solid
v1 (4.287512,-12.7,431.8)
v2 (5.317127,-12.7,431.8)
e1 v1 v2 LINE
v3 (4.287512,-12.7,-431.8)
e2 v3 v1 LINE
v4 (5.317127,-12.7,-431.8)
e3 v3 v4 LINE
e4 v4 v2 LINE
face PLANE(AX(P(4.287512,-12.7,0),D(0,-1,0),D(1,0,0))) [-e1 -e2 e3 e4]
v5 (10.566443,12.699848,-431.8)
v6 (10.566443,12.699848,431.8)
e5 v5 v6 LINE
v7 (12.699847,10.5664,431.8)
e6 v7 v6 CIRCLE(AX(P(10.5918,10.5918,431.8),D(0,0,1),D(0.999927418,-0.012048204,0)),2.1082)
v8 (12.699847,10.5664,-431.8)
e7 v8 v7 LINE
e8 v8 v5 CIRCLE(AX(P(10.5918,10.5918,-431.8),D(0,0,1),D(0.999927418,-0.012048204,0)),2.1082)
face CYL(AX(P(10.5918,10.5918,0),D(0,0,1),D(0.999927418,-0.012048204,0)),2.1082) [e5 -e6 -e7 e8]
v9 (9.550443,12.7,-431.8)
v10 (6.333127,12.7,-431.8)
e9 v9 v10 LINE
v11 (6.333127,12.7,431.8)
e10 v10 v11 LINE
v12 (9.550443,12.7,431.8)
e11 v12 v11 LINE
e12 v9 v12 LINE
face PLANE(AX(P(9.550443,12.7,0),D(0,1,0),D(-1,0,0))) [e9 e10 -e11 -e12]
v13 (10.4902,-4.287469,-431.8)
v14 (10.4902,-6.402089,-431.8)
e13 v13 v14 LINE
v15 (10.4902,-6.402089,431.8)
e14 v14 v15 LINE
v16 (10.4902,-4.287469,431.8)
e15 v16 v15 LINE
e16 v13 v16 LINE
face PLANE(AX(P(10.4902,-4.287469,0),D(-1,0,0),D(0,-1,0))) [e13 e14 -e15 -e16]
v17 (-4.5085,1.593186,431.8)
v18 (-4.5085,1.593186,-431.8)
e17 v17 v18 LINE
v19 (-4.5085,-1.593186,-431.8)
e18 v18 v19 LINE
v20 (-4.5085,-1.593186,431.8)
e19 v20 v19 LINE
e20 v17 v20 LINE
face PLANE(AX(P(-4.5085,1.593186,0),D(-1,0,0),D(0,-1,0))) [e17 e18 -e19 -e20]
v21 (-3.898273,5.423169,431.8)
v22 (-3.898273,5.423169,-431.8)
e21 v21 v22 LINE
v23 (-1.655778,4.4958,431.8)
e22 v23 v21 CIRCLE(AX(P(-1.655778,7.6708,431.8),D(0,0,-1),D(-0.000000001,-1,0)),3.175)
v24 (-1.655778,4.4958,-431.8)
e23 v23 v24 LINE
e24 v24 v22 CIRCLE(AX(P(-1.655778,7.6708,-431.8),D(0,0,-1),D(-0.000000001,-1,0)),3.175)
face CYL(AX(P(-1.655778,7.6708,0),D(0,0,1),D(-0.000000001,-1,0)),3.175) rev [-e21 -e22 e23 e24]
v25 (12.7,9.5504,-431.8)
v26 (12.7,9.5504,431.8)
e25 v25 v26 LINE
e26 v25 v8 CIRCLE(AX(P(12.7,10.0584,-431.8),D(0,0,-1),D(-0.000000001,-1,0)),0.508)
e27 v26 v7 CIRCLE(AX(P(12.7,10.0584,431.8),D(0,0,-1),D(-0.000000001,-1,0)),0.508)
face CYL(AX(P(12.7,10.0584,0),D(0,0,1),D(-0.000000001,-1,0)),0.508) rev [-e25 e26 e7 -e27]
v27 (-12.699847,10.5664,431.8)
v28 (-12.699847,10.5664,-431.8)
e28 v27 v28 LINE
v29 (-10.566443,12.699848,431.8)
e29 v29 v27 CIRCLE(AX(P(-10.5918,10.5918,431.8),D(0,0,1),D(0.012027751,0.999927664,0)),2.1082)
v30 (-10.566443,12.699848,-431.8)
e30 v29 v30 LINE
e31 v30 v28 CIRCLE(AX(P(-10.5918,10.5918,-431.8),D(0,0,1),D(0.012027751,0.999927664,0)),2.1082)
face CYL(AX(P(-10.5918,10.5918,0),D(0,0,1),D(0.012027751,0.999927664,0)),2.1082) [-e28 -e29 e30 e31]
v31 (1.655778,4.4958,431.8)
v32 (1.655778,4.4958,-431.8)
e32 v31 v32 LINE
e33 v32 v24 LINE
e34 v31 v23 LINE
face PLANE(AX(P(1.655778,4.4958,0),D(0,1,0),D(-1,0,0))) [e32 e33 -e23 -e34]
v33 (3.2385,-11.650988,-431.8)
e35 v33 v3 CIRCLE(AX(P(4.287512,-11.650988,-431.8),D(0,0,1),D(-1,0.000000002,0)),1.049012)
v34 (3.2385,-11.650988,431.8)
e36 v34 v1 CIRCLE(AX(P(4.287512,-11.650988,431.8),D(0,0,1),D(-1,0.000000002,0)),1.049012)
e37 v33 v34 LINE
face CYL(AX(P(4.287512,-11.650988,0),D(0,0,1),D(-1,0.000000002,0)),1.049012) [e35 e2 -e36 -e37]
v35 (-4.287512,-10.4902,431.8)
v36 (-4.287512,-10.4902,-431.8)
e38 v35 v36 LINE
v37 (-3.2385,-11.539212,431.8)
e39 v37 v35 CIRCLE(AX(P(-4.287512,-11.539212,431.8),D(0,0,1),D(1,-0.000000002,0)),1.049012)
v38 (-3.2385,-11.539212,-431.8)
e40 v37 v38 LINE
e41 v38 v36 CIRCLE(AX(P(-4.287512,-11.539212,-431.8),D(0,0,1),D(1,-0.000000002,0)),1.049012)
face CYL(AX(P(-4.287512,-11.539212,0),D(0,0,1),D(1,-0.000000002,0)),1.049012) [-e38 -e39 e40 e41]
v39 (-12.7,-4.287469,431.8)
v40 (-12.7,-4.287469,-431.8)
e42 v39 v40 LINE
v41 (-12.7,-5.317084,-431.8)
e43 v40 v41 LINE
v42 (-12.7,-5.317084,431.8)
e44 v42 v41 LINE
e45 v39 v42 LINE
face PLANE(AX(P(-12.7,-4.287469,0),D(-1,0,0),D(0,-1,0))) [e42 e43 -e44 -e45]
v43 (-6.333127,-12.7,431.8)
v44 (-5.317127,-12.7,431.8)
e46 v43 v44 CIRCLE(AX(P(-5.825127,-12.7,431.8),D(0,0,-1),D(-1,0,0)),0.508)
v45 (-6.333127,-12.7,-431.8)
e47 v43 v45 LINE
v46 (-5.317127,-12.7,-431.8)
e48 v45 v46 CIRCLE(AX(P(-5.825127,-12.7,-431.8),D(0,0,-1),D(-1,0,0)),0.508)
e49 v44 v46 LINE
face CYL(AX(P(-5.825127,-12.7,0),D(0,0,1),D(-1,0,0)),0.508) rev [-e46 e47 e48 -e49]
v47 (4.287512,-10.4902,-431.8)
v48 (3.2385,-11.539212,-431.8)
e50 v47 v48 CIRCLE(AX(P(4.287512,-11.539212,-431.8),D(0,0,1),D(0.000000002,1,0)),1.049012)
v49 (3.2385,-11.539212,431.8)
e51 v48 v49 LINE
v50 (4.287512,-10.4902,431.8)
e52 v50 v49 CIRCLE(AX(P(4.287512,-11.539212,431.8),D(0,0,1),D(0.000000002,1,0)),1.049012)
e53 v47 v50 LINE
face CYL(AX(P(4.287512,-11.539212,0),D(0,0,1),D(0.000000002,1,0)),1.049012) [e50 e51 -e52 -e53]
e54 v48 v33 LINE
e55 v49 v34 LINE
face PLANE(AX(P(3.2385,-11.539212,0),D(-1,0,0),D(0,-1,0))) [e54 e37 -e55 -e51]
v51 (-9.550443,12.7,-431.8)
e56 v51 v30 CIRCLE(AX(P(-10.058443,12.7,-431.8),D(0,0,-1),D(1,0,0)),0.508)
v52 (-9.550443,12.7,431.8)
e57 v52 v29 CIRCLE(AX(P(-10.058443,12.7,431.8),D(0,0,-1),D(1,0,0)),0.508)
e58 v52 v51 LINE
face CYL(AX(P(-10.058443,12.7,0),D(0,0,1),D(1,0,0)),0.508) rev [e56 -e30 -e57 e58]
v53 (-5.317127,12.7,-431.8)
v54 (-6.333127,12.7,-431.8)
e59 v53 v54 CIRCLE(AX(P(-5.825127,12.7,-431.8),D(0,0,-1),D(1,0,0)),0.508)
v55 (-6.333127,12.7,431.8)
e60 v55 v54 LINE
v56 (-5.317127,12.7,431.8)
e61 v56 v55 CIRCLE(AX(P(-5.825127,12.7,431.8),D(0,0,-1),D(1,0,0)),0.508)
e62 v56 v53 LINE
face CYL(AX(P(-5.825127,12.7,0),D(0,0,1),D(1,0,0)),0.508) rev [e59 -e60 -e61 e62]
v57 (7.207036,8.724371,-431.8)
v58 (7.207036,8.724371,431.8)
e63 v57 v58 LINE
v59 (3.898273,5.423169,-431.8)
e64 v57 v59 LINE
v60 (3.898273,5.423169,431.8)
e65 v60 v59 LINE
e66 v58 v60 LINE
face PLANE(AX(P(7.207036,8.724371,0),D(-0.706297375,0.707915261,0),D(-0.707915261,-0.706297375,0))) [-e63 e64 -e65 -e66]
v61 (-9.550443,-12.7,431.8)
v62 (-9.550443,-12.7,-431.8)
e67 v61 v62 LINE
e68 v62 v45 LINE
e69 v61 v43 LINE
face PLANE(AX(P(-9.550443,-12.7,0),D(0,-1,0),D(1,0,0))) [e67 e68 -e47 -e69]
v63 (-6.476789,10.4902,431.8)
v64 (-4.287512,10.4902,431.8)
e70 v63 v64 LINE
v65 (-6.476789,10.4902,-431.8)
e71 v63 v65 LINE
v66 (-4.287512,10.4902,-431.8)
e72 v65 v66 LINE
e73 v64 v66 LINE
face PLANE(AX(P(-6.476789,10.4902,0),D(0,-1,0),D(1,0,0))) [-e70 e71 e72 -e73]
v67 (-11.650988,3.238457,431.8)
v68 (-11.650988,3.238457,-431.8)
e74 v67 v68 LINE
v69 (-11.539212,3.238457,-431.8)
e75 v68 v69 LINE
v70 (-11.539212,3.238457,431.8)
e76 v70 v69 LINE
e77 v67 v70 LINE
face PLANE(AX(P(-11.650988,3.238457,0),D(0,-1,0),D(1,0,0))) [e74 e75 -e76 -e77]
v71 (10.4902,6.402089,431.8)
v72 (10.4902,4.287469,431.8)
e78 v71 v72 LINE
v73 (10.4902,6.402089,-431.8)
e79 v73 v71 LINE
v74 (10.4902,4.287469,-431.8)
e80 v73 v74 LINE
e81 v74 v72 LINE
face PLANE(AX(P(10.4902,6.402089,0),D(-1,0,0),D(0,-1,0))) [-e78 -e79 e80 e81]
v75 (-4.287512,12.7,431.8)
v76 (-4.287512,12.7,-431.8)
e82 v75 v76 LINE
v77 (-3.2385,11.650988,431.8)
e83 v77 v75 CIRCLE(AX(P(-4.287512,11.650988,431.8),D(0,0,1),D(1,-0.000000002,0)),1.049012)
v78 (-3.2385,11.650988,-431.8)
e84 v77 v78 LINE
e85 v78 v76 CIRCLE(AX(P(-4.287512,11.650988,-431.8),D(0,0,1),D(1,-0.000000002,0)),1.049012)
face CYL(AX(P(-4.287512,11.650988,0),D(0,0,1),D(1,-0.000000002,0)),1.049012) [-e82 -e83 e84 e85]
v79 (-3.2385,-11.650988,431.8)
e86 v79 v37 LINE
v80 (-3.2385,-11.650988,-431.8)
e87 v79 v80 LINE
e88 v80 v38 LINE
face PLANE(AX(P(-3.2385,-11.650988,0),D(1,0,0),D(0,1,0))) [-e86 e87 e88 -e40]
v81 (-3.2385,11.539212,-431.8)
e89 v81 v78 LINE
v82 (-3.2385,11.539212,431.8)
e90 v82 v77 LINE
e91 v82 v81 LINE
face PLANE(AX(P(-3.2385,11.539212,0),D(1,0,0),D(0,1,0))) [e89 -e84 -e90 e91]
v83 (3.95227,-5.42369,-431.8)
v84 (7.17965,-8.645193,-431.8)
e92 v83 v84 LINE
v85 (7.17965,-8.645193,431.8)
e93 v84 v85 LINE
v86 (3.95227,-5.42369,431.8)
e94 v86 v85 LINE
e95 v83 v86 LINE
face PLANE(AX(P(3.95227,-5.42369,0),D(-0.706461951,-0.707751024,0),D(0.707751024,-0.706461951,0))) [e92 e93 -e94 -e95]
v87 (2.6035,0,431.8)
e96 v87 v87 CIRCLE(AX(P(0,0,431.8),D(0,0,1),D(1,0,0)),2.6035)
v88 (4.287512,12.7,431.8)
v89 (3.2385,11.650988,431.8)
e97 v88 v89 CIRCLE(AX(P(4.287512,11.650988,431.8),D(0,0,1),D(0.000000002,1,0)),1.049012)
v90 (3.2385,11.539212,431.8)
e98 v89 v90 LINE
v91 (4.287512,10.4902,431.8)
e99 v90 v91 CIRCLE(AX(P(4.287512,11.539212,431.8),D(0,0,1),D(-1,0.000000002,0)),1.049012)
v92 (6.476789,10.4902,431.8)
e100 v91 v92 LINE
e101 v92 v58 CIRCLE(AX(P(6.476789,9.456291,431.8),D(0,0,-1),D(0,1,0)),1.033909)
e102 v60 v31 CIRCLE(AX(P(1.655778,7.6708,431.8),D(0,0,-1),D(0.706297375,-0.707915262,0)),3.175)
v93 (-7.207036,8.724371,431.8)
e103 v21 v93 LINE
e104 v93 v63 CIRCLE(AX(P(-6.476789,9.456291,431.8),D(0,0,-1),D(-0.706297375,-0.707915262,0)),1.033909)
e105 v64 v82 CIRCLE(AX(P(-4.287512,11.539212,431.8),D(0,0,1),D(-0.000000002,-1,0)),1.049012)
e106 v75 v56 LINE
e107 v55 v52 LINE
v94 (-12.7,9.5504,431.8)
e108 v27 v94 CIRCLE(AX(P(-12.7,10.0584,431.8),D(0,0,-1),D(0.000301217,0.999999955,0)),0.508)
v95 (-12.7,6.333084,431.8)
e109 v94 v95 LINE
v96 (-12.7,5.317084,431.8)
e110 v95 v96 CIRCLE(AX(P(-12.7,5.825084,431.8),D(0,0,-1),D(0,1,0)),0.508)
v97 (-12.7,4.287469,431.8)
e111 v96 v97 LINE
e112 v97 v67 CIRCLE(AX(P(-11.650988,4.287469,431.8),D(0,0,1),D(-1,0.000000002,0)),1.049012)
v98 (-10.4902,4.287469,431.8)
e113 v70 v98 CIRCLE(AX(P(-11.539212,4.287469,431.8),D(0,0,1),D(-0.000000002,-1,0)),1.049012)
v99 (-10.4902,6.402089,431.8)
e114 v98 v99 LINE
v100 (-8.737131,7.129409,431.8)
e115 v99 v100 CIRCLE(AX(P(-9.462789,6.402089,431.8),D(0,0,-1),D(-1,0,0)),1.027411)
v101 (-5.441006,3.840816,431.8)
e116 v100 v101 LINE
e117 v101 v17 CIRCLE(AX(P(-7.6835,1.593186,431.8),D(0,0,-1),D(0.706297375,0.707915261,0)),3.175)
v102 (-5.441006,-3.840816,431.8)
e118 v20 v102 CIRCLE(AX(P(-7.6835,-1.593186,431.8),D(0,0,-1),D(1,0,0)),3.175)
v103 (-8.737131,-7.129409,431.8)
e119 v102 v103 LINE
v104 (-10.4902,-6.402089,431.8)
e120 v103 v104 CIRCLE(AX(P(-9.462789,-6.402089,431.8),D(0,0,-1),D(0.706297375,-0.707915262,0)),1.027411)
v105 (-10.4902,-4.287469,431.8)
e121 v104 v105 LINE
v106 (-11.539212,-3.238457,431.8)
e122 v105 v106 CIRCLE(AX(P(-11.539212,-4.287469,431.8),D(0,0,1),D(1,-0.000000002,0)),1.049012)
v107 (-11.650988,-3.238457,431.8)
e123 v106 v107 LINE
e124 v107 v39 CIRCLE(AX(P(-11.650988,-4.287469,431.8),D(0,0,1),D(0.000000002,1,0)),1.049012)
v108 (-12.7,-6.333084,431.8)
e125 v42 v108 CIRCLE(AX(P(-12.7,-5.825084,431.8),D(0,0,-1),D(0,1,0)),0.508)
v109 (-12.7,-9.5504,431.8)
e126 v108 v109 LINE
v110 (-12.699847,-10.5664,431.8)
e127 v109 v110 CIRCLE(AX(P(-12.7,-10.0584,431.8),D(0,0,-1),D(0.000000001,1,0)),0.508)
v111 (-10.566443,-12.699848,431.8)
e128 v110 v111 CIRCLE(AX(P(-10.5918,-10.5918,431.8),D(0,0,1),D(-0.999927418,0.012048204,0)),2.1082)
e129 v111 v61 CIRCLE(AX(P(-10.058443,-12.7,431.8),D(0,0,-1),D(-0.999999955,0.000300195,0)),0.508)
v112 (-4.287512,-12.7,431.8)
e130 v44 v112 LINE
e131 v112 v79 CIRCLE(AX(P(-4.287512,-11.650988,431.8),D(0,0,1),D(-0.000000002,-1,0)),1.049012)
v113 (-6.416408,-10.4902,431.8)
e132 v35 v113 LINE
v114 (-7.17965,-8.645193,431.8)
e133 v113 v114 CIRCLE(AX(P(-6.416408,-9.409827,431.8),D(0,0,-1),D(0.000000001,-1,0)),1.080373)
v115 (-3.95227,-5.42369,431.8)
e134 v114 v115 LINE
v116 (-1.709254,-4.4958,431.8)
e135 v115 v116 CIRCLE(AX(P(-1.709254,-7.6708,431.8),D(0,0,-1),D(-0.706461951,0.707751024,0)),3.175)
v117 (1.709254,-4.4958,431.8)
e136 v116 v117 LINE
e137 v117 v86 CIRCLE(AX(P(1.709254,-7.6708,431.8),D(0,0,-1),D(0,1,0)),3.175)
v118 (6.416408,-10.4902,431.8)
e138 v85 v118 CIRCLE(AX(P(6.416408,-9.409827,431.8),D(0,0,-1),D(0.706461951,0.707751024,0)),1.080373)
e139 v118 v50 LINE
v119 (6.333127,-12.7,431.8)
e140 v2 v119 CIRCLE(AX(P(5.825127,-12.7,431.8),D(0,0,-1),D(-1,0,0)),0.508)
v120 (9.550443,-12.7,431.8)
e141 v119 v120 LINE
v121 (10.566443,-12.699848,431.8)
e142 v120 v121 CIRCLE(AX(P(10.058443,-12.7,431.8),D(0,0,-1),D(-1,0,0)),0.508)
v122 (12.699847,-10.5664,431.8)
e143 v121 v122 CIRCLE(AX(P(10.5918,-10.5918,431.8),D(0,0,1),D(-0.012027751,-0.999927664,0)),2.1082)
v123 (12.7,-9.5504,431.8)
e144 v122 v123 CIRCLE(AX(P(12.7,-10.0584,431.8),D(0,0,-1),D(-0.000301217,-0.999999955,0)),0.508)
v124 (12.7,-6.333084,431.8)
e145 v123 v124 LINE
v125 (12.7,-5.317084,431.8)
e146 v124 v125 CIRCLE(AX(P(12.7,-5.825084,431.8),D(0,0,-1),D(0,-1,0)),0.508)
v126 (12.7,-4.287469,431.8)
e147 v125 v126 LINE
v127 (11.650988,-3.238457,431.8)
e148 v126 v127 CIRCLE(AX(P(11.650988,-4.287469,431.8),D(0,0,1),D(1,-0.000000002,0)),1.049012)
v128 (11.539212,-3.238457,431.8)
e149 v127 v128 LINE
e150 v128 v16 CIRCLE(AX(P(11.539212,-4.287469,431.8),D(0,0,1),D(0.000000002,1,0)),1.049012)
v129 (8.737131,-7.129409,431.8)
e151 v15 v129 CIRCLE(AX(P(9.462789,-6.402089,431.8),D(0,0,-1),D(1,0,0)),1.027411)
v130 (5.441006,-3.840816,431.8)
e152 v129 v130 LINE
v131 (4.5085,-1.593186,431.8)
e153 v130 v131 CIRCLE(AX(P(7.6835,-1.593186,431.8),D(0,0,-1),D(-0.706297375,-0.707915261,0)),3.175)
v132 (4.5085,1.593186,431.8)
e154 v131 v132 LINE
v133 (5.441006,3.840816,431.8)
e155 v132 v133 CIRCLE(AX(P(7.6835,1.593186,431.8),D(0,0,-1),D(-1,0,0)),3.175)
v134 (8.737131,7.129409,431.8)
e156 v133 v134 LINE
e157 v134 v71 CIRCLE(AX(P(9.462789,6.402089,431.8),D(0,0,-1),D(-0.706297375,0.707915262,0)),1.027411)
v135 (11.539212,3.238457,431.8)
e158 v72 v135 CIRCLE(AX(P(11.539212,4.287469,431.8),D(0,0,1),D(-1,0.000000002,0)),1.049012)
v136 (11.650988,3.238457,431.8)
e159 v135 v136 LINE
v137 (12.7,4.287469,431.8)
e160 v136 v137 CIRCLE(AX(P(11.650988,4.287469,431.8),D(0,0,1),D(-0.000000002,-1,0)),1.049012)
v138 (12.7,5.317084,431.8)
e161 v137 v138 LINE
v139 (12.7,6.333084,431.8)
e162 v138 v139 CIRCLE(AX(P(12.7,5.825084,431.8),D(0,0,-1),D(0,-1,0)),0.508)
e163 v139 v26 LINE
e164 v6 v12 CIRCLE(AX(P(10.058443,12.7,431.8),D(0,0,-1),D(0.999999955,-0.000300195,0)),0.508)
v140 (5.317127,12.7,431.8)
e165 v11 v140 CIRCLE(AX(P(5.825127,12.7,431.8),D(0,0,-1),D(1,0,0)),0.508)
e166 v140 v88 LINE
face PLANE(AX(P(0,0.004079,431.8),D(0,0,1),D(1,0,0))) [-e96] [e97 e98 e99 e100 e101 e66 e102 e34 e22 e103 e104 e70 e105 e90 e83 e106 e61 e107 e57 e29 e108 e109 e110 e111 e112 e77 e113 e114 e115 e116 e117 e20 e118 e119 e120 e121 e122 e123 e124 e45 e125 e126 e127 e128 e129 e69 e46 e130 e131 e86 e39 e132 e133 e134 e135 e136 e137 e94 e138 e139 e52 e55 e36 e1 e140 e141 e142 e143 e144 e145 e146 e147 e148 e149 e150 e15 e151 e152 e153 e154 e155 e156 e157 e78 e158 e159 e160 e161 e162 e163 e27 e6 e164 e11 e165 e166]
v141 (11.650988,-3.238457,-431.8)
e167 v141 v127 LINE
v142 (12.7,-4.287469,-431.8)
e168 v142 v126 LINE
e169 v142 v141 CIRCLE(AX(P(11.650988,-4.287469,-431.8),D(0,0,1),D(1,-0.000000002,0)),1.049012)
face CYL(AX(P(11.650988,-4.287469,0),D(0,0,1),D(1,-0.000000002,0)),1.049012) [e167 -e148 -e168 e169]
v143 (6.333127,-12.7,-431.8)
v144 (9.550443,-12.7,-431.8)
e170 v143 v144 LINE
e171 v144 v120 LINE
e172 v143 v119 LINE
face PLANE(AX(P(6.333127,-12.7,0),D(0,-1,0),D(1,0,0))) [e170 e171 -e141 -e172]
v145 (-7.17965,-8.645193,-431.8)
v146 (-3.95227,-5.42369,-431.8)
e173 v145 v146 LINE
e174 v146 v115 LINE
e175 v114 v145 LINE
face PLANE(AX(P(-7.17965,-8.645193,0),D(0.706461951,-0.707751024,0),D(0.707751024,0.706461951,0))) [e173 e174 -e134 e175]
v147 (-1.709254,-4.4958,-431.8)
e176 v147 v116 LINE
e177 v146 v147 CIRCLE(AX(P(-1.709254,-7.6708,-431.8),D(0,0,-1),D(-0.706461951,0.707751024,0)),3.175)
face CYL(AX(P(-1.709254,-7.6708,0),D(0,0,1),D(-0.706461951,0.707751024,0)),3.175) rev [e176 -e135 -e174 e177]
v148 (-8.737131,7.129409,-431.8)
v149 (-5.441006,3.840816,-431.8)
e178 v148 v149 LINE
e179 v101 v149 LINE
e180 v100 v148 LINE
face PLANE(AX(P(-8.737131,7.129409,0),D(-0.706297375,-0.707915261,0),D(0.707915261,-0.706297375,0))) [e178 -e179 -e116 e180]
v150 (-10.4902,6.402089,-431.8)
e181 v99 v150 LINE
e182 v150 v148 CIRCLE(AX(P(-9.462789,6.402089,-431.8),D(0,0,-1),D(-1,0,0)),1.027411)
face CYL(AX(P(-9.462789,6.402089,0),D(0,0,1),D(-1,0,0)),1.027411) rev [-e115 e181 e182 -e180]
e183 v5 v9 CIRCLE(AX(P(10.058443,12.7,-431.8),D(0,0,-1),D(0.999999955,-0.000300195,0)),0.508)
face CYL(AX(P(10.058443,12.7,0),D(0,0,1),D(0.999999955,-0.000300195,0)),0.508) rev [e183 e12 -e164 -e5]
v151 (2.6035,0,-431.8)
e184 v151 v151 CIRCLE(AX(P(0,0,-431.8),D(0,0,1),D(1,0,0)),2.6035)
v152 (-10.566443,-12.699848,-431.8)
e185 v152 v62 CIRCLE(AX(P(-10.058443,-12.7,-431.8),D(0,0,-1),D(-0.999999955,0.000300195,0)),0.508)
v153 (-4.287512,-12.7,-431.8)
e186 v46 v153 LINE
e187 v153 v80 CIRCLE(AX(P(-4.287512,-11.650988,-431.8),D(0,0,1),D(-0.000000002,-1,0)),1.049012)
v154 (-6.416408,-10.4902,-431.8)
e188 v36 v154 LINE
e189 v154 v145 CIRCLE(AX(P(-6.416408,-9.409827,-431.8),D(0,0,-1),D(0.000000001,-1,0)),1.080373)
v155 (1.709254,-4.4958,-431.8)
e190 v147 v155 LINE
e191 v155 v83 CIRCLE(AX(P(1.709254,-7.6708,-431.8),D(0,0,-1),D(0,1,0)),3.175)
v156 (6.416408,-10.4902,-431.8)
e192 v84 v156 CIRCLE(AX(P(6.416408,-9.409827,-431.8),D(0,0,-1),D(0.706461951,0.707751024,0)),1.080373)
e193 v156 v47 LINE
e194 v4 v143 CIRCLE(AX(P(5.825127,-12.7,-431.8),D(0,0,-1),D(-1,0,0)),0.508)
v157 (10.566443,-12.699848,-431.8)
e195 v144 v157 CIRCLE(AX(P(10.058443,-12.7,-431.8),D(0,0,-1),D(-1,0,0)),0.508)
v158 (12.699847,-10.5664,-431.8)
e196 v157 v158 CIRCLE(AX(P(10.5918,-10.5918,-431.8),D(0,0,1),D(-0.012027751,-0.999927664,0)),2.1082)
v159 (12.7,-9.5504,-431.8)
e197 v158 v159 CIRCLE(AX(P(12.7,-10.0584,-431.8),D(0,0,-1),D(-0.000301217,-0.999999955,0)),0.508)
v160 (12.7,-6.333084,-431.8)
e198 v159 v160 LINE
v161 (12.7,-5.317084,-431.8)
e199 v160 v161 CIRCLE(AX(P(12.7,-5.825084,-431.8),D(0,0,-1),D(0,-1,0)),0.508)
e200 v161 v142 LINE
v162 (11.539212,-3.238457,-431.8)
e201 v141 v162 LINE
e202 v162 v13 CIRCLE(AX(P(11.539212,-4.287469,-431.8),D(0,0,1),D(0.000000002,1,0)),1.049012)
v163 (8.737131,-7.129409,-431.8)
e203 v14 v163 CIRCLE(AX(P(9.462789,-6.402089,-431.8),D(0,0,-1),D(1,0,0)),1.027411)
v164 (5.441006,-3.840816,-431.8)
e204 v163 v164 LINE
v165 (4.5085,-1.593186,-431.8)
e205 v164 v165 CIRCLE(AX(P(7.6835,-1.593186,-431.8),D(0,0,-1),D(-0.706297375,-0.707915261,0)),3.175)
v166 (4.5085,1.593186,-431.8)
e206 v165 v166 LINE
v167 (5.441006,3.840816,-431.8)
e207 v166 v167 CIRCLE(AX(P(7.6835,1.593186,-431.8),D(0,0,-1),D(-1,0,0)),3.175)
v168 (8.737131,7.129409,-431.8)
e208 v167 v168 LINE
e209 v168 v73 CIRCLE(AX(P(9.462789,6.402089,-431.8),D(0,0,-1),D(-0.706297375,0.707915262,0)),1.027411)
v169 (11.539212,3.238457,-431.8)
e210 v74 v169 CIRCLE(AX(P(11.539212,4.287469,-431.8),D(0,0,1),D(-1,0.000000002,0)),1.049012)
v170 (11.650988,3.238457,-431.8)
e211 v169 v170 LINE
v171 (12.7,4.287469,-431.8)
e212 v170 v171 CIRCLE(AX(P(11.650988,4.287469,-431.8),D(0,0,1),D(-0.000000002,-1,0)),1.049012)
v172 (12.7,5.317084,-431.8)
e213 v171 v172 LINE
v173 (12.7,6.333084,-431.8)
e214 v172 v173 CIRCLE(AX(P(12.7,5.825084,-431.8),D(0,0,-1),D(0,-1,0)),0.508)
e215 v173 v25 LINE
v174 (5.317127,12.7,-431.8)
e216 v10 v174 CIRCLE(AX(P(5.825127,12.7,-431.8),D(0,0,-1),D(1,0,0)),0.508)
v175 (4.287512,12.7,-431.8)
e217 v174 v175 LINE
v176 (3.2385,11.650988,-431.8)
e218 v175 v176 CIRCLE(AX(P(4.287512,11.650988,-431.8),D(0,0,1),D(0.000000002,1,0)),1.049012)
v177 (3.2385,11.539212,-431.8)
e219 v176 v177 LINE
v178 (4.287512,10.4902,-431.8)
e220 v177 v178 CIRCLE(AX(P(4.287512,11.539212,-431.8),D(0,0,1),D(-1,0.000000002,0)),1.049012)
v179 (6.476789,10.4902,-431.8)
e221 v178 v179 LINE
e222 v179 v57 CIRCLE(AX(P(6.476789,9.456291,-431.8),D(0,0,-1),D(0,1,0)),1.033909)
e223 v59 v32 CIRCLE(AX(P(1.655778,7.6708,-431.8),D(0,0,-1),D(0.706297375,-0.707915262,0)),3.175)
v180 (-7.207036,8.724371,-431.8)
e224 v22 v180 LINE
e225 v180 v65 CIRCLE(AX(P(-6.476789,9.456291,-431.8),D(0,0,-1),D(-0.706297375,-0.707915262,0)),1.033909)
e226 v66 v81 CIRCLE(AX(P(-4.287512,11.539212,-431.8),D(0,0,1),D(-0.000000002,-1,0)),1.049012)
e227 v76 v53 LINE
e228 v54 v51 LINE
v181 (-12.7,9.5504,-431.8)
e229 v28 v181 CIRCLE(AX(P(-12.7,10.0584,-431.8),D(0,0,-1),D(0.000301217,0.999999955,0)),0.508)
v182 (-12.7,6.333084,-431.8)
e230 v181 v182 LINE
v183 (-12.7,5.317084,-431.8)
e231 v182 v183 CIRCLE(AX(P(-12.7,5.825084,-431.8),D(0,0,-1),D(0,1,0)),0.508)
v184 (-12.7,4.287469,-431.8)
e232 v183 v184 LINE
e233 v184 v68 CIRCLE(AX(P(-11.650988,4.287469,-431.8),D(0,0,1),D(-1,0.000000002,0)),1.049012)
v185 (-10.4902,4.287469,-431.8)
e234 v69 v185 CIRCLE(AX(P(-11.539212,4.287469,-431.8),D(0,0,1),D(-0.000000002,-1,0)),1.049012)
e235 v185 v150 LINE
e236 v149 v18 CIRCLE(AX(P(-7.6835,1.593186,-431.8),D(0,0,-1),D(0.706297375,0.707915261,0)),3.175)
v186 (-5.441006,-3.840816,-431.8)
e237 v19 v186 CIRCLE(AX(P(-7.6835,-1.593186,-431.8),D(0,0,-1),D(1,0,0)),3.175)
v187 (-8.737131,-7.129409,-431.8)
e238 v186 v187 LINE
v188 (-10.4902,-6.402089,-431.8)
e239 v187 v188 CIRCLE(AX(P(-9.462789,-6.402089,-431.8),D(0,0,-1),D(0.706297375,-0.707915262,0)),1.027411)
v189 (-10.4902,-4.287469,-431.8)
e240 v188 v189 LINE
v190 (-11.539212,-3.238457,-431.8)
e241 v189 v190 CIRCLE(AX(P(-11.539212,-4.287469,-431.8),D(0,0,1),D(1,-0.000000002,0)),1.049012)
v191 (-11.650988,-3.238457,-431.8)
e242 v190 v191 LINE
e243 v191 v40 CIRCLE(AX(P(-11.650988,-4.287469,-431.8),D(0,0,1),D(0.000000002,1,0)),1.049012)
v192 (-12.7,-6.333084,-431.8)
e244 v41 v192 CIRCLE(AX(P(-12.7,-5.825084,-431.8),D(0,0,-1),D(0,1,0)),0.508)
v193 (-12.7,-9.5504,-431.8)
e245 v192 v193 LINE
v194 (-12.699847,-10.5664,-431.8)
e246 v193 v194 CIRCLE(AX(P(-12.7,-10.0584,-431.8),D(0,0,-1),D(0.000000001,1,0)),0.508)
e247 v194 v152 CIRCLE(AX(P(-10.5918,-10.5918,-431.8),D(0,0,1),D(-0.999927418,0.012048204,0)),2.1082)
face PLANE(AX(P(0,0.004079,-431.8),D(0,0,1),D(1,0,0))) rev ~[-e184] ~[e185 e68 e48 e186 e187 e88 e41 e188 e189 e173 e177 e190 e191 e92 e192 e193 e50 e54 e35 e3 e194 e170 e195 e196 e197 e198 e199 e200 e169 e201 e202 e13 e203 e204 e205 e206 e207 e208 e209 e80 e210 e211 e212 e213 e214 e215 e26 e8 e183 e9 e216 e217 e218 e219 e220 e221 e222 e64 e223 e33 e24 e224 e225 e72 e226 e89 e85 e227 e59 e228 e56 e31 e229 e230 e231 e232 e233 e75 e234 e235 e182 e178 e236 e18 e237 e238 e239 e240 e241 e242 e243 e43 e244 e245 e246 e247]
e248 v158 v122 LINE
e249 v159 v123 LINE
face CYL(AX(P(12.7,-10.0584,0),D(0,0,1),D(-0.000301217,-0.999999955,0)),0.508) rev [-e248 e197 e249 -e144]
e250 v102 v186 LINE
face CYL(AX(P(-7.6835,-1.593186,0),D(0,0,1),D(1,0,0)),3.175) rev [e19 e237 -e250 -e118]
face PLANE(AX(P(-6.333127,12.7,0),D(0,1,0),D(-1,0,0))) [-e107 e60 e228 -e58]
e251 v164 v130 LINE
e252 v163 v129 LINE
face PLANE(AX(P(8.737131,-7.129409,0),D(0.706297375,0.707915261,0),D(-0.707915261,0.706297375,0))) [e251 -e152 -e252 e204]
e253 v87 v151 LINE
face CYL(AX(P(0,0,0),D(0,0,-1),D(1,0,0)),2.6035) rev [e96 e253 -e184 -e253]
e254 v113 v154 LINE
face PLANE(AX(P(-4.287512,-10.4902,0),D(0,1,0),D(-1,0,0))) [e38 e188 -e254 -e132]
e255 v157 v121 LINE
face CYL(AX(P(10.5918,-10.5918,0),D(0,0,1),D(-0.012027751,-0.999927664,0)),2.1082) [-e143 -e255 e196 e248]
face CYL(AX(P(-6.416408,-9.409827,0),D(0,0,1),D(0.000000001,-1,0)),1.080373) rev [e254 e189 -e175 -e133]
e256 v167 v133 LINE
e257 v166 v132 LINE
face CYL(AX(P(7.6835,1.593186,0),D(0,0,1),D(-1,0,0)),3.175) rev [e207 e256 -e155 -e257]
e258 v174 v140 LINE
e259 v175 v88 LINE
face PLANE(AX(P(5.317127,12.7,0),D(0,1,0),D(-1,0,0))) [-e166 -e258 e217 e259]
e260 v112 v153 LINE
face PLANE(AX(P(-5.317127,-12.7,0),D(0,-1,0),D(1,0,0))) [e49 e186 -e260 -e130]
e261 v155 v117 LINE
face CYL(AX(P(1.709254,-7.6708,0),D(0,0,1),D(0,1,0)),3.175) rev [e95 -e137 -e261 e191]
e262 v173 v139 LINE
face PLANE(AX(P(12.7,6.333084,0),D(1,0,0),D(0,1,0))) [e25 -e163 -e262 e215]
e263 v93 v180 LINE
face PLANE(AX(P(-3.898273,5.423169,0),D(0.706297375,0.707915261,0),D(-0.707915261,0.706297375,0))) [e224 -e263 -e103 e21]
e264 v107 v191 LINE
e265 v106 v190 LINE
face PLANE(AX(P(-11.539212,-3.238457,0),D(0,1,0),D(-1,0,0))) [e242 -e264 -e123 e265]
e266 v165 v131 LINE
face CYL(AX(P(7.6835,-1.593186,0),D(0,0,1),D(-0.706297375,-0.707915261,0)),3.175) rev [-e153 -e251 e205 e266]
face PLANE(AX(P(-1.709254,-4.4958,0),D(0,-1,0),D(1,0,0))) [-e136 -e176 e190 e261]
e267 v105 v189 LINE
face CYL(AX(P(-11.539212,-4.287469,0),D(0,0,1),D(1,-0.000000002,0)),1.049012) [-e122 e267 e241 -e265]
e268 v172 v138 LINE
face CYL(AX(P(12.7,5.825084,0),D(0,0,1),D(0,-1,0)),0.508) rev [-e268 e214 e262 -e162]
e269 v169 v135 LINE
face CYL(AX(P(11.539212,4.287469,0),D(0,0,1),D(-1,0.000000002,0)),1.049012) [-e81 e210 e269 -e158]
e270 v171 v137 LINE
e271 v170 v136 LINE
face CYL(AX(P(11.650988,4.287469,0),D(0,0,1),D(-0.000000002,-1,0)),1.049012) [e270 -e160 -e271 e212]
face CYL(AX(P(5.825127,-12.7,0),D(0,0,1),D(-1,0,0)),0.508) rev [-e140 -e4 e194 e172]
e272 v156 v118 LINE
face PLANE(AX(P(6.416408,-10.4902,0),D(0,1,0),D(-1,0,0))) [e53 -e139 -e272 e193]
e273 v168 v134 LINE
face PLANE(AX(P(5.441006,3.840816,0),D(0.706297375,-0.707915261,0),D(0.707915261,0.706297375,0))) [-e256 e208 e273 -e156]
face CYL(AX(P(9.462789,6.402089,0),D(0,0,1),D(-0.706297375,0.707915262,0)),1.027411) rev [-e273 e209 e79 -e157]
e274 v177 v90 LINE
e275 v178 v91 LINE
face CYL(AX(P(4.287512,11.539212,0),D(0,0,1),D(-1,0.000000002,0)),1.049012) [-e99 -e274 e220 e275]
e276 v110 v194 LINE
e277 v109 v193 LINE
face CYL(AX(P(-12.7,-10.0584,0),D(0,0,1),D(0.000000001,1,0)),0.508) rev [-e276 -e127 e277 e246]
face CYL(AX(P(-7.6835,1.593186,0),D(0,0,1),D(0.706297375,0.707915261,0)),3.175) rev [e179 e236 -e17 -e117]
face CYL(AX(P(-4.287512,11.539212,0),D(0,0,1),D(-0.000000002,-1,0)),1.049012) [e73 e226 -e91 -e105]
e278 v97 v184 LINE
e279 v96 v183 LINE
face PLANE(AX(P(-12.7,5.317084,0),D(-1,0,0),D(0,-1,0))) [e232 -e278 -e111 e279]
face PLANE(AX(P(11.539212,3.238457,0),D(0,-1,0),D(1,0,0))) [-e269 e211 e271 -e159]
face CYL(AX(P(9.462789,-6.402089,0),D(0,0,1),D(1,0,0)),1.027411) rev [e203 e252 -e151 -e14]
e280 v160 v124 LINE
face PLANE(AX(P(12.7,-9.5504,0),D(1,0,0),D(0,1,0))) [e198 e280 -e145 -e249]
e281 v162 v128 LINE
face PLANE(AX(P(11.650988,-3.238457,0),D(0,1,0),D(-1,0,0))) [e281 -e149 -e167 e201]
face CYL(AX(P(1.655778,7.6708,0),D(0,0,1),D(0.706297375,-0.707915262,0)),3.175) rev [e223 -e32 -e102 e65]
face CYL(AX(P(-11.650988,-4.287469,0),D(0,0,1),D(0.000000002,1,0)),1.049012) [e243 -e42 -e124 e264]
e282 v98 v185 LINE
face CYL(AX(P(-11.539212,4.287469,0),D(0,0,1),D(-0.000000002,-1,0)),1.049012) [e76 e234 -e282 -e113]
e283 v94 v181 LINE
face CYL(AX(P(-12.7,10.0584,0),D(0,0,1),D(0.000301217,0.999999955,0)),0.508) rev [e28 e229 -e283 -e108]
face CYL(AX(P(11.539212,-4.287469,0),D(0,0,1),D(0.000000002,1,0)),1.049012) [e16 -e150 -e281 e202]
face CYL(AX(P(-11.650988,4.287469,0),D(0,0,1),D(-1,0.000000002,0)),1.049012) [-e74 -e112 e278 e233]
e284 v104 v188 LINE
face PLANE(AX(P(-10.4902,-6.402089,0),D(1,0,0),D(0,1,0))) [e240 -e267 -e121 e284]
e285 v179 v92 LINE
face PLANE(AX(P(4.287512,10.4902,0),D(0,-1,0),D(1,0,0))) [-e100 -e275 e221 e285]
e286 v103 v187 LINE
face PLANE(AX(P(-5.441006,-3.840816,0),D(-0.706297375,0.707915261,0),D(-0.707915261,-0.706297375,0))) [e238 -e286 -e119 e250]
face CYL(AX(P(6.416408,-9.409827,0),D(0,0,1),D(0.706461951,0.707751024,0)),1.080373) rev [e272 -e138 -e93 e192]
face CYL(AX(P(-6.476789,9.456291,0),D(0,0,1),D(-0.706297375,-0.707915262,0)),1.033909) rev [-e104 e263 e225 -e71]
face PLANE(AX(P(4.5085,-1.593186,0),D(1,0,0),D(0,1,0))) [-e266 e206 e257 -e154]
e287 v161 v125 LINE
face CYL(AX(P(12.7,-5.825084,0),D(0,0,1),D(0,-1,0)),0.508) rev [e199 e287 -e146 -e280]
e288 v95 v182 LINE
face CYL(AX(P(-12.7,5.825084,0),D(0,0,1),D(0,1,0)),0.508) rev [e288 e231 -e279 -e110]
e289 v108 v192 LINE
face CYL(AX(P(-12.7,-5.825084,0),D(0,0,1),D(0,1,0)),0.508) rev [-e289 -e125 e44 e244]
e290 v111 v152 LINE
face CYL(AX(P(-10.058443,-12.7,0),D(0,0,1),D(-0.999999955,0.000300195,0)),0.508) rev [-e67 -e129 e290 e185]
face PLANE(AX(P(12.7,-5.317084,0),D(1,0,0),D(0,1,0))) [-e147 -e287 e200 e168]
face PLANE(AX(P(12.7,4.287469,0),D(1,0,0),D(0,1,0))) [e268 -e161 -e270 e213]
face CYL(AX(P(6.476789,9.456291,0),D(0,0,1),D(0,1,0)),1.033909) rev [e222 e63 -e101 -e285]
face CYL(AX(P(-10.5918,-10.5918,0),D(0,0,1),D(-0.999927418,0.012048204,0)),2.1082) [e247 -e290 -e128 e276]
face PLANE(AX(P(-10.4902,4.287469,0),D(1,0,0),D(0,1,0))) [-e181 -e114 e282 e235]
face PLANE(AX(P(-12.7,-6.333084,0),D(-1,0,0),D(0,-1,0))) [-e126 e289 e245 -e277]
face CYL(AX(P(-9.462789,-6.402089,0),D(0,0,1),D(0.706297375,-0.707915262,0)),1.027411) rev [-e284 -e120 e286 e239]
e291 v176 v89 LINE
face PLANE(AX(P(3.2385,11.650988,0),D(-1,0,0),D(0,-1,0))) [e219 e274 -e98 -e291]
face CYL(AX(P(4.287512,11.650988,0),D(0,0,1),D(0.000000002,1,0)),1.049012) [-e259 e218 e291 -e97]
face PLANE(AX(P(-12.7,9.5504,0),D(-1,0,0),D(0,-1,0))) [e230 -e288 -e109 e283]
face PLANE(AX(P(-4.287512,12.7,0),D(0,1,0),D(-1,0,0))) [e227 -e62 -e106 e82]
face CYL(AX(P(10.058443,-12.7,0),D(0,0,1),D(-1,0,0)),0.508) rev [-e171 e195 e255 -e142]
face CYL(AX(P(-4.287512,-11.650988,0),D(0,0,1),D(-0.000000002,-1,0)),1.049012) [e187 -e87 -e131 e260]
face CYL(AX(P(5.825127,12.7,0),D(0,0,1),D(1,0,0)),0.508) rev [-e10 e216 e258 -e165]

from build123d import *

# Parameters (mm, degrees)
SKETCH1_R           = 2.6035
BOSS_EXTRUDE1_DEPTH = 431.8


with BuildPart() as part:
    # Sketch1 → Boss-Extrude1 (new, symmetric)
    with BuildSketch(Plane.XY):
        with BuildLine():
            Line((-7.179650497, -8.645192506), (-3.952270251, -5.423690499))
            ThreePointArc((-3.952270251, -5.423690499), (-2.922936451, -4.736929036), (-1.709253557, -4.4958))
            Line((-1.709253557, -4.4958), (1.709253557, -4.4958))
            ThreePointArc((1.709253557, -4.4958), (2.922936451, -4.736929036), (3.952270251, -5.423690499))
            Line((3.952270251, -5.423690499), (7.179650497, -8.645192506))
            ThreePointArc((7.179650497, -8.645192506), (7.41473083, -9.822813117), (6.416408329, -10.4902))
            Line((6.416408329, -10.4902), (4.287512407, -10.4902))
            ThreePointArc((4.287512407, -10.4902), (3.54574862, -10.79744862), (3.2385, -11.539212407))
            Line((3.2385, -11.539212407), (3.2385, -11.650987593))
            ThreePointArc((3.2385, -11.650987593), (3.54574862, -12.39275138), (4.287512407, -12.7))
            Line((4.287512407, -12.7), (5.317126718, -12.7))
            ThreePointArc((5.317126718, -12.7), (5.825126718, -12.192), (6.333126718, -12.7))
            Line((6.333126718, -12.7), (9.550443118, -12.7))
            ThreePointArc((9.550443118, -12.7), (10.058366869, -12.192000006), (10.566443095, -12.699847501))
            ThreePointArc((10.566443095, -12.699847501), (12.082537762, -12.08250727), (12.699846982, -10.566399977))
            ThreePointArc((12.699846982, -10.566399977), (12.192000006, -10.058323491), (12.7, -9.5504))
            Line((12.7, -9.5504), (12.7, -6.3330836))
            ThreePointArc((12.7, -6.3330836), (12.192, -5.8250836), (12.7, -5.3170836))
            Line((12.7, -5.3170836), (12.7, -4.287469289))
            ThreePointArc((12.7, -4.287469289), (12.39275138, -3.545705502), (11.650987593, -3.238456882))
            Line((11.650987593, -3.238456882), (11.539212407, -3.238456882))
            ThreePointArc((11.539212407, -3.238456882), (10.79744862, -3.545705502), (10.4902, -4.287469289))
            Line((10.4902, -4.287469289), (10.4902, -6.402089023))
            ThreePointArc((10.4902, -6.402089023), (9.856505071, -7.351067942), (8.737131347, -7.129408934))
            Line((8.737131347, -7.129408934), (5.441005833, -3.840816462))
            ThreePointArc((5.441005833, -3.840816462), (4.750877967, -2.809883091), (4.5085, -1.593185507))
            Line((4.5085, -1.593185507), (4.5085, 1.593185507))
            ThreePointArc((4.5085, 1.593185507), (4.750877967, 2.809883091), (5.441005833, 3.840816462))
            Line((5.441005833, 3.840816462), (8.737131347, 7.129408934))
            ThreePointArc((8.737131347, 7.129408934), (9.856505071, 7.351067942), (10.4902, 6.402089023))
            Line((10.4902, 6.402089023), (10.4902, 4.287469289))
            ThreePointArc((10.4902, 4.287469289), (10.79744862, 3.545705502), (11.539212407, 3.238456882))
            Line((11.539212407, 3.238456882), (11.650987593, 3.238456882))
            ThreePointArc((11.650987593, 3.238456882), (12.39275138, 3.545705502), (12.7, 4.287469289))
            Line((12.7, 4.287469289), (12.7, 5.3170836))
            ThreePointArc((12.7, 5.3170836), (12.192, 5.8250836), (12.7, 6.3330836))
            Line((12.7, 6.3330836), (12.7, 9.5504))
            ThreePointArc((12.7, 9.5504), (12.192000006, 10.058323491), (12.699846982, 10.566399977))
            ThreePointArc((12.699846982, 10.566399977), (12.082537762, 12.08250727), (10.566443095, 12.699847501))
            ThreePointArc((10.566443095, 12.699847501), (10.058366869, 12.192000006), (9.550443118, 12.7))
            Line((9.550443118, 12.7), (6.333126718, 12.7))
            ThreePointArc((6.333126718, 12.7), (5.825126718, 12.192), (5.317126718, 12.7))
            Line((5.317126718, 12.7), (4.287512407, 12.7))
            ThreePointArc((4.287512407, 12.7), (3.54574862, 12.39275138), (3.2385, 11.650987593))
            Line((3.2385, 11.650987593), (3.2385, 11.539212407))
            ThreePointArc((3.2385, 11.539212407), (3.54574862, 10.79744862), (4.287512407, 10.4902))
            Line((4.287512407, 10.4902), (6.476788598, 10.4902))
            ThreePointArc((6.476788598, 10.4902), (7.432222385, 9.85140422), (7.207036008, 8.724370562))
            Line((7.207036008, 8.724370562), (3.898272566, 5.423169045))
            ThreePointArc((3.898272566, 5.423169045), (2.869120213, 4.736787962), (1.655778399, 4.4958))
            Line((1.655778399, 4.4958), (-1.655778399, 4.4958))
            ThreePointArc((-1.655778399, 4.4958), (-2.869120213, 4.736787962), (-3.898272566, 5.423169045))
            Line((-3.898272566, 5.423169045), (-7.207036008, 8.724370562))
            ThreePointArc((-7.207036008, 8.724370562), (-7.432222385, 9.85140422), (-6.476788598, 10.4902))
            Line((-6.476788598, 10.4902), (-4.287512407, 10.4902))
            ThreePointArc((-4.287512407, 10.4902), (-3.54574862, 10.79744862), (-3.2385, 11.539212407))
            Line((-3.2385, 11.539212407), (-3.2385, 11.650987593))
            ThreePointArc((-3.2385, 11.650987593), (-3.54574862, 12.39275138), (-4.287512407, 12.7))
            Line((-4.287512407, 12.7), (-5.317126718, 12.7))
            ThreePointArc((-5.317126718, 12.7), (-5.825126718, 12.192), (-6.333126718, 12.7))
            Line((-6.333126718, 12.7), (-9.550443118, 12.7))
            ThreePointArc((-9.550443118, 12.7), (-10.058366869, 12.192000006), (-10.566443095, 12.699847501))
            ThreePointArc((-10.566443095, 12.699847501), (-12.082537762, 12.08250727), (-12.699846982, 10.566399977))
            ThreePointArc((-12.699846982, 10.566399977), (-12.192000006, 10.058323491), (-12.7, 9.5504))
            Line((-12.7, 9.5504), (-12.7, 6.3330836))
            ThreePointArc((-12.7, 6.3330836), (-12.192, 5.8250836), (-12.7, 5.3170836))
            Line((-12.7, 5.3170836), (-12.7, 4.287469289))
            ThreePointArc((-12.7, 4.287469289), (-12.39275138, 3.545705502), (-11.650987593, 3.238456882))
            Line((-11.650987593, 3.238456882), (-11.539212407, 3.238456882))
            ThreePointArc((-11.539212407, 3.238456882), (-10.79744862, 3.545705502), (-10.4902, 4.287469289))
            Line((-10.4902, 4.287469289), (-10.4902, 6.402089023))
            ThreePointArc((-10.4902, 6.402089023), (-9.856505071, 7.351067942), (-8.737131347, 7.129408934))
            Line((-8.737131347, 7.129408934), (-5.441005833, 3.840816462))
            ThreePointArc((-5.441005833, 3.840816462), (-4.750877967, 2.809883091), (-4.5085, 1.593185507))
            Line((-4.5085, 1.593185507), (-4.5085, -1.593185507))
            ThreePointArc((-4.5085, -1.593185507), (-4.750877967, -2.809883091), (-5.441005833, -3.840816462))
            Line((-5.441005833, -3.840816462), (-8.737131347, -7.129408934))
            ThreePointArc((-8.737131347, -7.129408934), (-9.856505071, -7.351067942), (-10.4902, -6.402089023))
            Line((-10.4902, -6.402089023), (-10.4902, -4.287469289))
            ThreePointArc((-10.4902, -4.287469289), (-10.79744862, -3.545705502), (-11.539212407, -3.238456882))
            Line((-11.539212407, -3.238456882), (-11.650987593, -3.238456882))
            ThreePointArc((-11.650987593, -3.238456882), (-12.39275138, -3.545705502), (-12.7, -4.287469289))
            Line((-12.7, -4.287469289), (-12.7, -5.3170836))
            ThreePointArc((-12.7, -5.3170836), (-12.192, -5.8250836), (-12.7, -6.3330836))
            Line((-12.7, -6.3330836), (-12.7, -9.5504))
            ThreePointArc((-12.7, -9.5504), (-12.192000006, -10.058323491), (-12.699846982, -10.566399977))
            ThreePointArc((-12.699846982, -10.566399977), (-12.082537762, -12.08250727), (-10.566443095, -12.699847501))
            ThreePointArc((-10.566443095, -12.699847501), (-10.058366869, -12.192000006), (-9.550443118, -12.7))
            Line((-9.550443118, -12.7), (-6.333126718, -12.7))
            ThreePointArc((-6.333126718, -12.7), (-5.825126718, -12.192), (-5.317126718, -12.7))
            Line((-5.317126718, -12.7), (-4.287512407, -12.7))
            ThreePointArc((-4.287512407, -12.7), (-3.54574862, -12.39275138), (-3.2385, -11.650987593))
            Line((-3.2385, -11.650987593), (-3.2385, -11.539212407))
            ThreePointArc((-3.2385, -11.539212407), (-3.54574862, -10.79744862), (-4.287512407, -10.4902))
            Line((-4.287512407, -10.4902), (-6.416408329, -10.4902))
            ThreePointArc((-6.416408329, -10.4902), (-7.41473083, -9.822813117), (-7.179650497, -8.645192506))
        make_face()
        Circle(SKETCH1_R, mode=Mode.SUBTRACT)
    extrude(amount=BOSS_EXTRUDE1_DEPTH, both=True)


solid = part.part
